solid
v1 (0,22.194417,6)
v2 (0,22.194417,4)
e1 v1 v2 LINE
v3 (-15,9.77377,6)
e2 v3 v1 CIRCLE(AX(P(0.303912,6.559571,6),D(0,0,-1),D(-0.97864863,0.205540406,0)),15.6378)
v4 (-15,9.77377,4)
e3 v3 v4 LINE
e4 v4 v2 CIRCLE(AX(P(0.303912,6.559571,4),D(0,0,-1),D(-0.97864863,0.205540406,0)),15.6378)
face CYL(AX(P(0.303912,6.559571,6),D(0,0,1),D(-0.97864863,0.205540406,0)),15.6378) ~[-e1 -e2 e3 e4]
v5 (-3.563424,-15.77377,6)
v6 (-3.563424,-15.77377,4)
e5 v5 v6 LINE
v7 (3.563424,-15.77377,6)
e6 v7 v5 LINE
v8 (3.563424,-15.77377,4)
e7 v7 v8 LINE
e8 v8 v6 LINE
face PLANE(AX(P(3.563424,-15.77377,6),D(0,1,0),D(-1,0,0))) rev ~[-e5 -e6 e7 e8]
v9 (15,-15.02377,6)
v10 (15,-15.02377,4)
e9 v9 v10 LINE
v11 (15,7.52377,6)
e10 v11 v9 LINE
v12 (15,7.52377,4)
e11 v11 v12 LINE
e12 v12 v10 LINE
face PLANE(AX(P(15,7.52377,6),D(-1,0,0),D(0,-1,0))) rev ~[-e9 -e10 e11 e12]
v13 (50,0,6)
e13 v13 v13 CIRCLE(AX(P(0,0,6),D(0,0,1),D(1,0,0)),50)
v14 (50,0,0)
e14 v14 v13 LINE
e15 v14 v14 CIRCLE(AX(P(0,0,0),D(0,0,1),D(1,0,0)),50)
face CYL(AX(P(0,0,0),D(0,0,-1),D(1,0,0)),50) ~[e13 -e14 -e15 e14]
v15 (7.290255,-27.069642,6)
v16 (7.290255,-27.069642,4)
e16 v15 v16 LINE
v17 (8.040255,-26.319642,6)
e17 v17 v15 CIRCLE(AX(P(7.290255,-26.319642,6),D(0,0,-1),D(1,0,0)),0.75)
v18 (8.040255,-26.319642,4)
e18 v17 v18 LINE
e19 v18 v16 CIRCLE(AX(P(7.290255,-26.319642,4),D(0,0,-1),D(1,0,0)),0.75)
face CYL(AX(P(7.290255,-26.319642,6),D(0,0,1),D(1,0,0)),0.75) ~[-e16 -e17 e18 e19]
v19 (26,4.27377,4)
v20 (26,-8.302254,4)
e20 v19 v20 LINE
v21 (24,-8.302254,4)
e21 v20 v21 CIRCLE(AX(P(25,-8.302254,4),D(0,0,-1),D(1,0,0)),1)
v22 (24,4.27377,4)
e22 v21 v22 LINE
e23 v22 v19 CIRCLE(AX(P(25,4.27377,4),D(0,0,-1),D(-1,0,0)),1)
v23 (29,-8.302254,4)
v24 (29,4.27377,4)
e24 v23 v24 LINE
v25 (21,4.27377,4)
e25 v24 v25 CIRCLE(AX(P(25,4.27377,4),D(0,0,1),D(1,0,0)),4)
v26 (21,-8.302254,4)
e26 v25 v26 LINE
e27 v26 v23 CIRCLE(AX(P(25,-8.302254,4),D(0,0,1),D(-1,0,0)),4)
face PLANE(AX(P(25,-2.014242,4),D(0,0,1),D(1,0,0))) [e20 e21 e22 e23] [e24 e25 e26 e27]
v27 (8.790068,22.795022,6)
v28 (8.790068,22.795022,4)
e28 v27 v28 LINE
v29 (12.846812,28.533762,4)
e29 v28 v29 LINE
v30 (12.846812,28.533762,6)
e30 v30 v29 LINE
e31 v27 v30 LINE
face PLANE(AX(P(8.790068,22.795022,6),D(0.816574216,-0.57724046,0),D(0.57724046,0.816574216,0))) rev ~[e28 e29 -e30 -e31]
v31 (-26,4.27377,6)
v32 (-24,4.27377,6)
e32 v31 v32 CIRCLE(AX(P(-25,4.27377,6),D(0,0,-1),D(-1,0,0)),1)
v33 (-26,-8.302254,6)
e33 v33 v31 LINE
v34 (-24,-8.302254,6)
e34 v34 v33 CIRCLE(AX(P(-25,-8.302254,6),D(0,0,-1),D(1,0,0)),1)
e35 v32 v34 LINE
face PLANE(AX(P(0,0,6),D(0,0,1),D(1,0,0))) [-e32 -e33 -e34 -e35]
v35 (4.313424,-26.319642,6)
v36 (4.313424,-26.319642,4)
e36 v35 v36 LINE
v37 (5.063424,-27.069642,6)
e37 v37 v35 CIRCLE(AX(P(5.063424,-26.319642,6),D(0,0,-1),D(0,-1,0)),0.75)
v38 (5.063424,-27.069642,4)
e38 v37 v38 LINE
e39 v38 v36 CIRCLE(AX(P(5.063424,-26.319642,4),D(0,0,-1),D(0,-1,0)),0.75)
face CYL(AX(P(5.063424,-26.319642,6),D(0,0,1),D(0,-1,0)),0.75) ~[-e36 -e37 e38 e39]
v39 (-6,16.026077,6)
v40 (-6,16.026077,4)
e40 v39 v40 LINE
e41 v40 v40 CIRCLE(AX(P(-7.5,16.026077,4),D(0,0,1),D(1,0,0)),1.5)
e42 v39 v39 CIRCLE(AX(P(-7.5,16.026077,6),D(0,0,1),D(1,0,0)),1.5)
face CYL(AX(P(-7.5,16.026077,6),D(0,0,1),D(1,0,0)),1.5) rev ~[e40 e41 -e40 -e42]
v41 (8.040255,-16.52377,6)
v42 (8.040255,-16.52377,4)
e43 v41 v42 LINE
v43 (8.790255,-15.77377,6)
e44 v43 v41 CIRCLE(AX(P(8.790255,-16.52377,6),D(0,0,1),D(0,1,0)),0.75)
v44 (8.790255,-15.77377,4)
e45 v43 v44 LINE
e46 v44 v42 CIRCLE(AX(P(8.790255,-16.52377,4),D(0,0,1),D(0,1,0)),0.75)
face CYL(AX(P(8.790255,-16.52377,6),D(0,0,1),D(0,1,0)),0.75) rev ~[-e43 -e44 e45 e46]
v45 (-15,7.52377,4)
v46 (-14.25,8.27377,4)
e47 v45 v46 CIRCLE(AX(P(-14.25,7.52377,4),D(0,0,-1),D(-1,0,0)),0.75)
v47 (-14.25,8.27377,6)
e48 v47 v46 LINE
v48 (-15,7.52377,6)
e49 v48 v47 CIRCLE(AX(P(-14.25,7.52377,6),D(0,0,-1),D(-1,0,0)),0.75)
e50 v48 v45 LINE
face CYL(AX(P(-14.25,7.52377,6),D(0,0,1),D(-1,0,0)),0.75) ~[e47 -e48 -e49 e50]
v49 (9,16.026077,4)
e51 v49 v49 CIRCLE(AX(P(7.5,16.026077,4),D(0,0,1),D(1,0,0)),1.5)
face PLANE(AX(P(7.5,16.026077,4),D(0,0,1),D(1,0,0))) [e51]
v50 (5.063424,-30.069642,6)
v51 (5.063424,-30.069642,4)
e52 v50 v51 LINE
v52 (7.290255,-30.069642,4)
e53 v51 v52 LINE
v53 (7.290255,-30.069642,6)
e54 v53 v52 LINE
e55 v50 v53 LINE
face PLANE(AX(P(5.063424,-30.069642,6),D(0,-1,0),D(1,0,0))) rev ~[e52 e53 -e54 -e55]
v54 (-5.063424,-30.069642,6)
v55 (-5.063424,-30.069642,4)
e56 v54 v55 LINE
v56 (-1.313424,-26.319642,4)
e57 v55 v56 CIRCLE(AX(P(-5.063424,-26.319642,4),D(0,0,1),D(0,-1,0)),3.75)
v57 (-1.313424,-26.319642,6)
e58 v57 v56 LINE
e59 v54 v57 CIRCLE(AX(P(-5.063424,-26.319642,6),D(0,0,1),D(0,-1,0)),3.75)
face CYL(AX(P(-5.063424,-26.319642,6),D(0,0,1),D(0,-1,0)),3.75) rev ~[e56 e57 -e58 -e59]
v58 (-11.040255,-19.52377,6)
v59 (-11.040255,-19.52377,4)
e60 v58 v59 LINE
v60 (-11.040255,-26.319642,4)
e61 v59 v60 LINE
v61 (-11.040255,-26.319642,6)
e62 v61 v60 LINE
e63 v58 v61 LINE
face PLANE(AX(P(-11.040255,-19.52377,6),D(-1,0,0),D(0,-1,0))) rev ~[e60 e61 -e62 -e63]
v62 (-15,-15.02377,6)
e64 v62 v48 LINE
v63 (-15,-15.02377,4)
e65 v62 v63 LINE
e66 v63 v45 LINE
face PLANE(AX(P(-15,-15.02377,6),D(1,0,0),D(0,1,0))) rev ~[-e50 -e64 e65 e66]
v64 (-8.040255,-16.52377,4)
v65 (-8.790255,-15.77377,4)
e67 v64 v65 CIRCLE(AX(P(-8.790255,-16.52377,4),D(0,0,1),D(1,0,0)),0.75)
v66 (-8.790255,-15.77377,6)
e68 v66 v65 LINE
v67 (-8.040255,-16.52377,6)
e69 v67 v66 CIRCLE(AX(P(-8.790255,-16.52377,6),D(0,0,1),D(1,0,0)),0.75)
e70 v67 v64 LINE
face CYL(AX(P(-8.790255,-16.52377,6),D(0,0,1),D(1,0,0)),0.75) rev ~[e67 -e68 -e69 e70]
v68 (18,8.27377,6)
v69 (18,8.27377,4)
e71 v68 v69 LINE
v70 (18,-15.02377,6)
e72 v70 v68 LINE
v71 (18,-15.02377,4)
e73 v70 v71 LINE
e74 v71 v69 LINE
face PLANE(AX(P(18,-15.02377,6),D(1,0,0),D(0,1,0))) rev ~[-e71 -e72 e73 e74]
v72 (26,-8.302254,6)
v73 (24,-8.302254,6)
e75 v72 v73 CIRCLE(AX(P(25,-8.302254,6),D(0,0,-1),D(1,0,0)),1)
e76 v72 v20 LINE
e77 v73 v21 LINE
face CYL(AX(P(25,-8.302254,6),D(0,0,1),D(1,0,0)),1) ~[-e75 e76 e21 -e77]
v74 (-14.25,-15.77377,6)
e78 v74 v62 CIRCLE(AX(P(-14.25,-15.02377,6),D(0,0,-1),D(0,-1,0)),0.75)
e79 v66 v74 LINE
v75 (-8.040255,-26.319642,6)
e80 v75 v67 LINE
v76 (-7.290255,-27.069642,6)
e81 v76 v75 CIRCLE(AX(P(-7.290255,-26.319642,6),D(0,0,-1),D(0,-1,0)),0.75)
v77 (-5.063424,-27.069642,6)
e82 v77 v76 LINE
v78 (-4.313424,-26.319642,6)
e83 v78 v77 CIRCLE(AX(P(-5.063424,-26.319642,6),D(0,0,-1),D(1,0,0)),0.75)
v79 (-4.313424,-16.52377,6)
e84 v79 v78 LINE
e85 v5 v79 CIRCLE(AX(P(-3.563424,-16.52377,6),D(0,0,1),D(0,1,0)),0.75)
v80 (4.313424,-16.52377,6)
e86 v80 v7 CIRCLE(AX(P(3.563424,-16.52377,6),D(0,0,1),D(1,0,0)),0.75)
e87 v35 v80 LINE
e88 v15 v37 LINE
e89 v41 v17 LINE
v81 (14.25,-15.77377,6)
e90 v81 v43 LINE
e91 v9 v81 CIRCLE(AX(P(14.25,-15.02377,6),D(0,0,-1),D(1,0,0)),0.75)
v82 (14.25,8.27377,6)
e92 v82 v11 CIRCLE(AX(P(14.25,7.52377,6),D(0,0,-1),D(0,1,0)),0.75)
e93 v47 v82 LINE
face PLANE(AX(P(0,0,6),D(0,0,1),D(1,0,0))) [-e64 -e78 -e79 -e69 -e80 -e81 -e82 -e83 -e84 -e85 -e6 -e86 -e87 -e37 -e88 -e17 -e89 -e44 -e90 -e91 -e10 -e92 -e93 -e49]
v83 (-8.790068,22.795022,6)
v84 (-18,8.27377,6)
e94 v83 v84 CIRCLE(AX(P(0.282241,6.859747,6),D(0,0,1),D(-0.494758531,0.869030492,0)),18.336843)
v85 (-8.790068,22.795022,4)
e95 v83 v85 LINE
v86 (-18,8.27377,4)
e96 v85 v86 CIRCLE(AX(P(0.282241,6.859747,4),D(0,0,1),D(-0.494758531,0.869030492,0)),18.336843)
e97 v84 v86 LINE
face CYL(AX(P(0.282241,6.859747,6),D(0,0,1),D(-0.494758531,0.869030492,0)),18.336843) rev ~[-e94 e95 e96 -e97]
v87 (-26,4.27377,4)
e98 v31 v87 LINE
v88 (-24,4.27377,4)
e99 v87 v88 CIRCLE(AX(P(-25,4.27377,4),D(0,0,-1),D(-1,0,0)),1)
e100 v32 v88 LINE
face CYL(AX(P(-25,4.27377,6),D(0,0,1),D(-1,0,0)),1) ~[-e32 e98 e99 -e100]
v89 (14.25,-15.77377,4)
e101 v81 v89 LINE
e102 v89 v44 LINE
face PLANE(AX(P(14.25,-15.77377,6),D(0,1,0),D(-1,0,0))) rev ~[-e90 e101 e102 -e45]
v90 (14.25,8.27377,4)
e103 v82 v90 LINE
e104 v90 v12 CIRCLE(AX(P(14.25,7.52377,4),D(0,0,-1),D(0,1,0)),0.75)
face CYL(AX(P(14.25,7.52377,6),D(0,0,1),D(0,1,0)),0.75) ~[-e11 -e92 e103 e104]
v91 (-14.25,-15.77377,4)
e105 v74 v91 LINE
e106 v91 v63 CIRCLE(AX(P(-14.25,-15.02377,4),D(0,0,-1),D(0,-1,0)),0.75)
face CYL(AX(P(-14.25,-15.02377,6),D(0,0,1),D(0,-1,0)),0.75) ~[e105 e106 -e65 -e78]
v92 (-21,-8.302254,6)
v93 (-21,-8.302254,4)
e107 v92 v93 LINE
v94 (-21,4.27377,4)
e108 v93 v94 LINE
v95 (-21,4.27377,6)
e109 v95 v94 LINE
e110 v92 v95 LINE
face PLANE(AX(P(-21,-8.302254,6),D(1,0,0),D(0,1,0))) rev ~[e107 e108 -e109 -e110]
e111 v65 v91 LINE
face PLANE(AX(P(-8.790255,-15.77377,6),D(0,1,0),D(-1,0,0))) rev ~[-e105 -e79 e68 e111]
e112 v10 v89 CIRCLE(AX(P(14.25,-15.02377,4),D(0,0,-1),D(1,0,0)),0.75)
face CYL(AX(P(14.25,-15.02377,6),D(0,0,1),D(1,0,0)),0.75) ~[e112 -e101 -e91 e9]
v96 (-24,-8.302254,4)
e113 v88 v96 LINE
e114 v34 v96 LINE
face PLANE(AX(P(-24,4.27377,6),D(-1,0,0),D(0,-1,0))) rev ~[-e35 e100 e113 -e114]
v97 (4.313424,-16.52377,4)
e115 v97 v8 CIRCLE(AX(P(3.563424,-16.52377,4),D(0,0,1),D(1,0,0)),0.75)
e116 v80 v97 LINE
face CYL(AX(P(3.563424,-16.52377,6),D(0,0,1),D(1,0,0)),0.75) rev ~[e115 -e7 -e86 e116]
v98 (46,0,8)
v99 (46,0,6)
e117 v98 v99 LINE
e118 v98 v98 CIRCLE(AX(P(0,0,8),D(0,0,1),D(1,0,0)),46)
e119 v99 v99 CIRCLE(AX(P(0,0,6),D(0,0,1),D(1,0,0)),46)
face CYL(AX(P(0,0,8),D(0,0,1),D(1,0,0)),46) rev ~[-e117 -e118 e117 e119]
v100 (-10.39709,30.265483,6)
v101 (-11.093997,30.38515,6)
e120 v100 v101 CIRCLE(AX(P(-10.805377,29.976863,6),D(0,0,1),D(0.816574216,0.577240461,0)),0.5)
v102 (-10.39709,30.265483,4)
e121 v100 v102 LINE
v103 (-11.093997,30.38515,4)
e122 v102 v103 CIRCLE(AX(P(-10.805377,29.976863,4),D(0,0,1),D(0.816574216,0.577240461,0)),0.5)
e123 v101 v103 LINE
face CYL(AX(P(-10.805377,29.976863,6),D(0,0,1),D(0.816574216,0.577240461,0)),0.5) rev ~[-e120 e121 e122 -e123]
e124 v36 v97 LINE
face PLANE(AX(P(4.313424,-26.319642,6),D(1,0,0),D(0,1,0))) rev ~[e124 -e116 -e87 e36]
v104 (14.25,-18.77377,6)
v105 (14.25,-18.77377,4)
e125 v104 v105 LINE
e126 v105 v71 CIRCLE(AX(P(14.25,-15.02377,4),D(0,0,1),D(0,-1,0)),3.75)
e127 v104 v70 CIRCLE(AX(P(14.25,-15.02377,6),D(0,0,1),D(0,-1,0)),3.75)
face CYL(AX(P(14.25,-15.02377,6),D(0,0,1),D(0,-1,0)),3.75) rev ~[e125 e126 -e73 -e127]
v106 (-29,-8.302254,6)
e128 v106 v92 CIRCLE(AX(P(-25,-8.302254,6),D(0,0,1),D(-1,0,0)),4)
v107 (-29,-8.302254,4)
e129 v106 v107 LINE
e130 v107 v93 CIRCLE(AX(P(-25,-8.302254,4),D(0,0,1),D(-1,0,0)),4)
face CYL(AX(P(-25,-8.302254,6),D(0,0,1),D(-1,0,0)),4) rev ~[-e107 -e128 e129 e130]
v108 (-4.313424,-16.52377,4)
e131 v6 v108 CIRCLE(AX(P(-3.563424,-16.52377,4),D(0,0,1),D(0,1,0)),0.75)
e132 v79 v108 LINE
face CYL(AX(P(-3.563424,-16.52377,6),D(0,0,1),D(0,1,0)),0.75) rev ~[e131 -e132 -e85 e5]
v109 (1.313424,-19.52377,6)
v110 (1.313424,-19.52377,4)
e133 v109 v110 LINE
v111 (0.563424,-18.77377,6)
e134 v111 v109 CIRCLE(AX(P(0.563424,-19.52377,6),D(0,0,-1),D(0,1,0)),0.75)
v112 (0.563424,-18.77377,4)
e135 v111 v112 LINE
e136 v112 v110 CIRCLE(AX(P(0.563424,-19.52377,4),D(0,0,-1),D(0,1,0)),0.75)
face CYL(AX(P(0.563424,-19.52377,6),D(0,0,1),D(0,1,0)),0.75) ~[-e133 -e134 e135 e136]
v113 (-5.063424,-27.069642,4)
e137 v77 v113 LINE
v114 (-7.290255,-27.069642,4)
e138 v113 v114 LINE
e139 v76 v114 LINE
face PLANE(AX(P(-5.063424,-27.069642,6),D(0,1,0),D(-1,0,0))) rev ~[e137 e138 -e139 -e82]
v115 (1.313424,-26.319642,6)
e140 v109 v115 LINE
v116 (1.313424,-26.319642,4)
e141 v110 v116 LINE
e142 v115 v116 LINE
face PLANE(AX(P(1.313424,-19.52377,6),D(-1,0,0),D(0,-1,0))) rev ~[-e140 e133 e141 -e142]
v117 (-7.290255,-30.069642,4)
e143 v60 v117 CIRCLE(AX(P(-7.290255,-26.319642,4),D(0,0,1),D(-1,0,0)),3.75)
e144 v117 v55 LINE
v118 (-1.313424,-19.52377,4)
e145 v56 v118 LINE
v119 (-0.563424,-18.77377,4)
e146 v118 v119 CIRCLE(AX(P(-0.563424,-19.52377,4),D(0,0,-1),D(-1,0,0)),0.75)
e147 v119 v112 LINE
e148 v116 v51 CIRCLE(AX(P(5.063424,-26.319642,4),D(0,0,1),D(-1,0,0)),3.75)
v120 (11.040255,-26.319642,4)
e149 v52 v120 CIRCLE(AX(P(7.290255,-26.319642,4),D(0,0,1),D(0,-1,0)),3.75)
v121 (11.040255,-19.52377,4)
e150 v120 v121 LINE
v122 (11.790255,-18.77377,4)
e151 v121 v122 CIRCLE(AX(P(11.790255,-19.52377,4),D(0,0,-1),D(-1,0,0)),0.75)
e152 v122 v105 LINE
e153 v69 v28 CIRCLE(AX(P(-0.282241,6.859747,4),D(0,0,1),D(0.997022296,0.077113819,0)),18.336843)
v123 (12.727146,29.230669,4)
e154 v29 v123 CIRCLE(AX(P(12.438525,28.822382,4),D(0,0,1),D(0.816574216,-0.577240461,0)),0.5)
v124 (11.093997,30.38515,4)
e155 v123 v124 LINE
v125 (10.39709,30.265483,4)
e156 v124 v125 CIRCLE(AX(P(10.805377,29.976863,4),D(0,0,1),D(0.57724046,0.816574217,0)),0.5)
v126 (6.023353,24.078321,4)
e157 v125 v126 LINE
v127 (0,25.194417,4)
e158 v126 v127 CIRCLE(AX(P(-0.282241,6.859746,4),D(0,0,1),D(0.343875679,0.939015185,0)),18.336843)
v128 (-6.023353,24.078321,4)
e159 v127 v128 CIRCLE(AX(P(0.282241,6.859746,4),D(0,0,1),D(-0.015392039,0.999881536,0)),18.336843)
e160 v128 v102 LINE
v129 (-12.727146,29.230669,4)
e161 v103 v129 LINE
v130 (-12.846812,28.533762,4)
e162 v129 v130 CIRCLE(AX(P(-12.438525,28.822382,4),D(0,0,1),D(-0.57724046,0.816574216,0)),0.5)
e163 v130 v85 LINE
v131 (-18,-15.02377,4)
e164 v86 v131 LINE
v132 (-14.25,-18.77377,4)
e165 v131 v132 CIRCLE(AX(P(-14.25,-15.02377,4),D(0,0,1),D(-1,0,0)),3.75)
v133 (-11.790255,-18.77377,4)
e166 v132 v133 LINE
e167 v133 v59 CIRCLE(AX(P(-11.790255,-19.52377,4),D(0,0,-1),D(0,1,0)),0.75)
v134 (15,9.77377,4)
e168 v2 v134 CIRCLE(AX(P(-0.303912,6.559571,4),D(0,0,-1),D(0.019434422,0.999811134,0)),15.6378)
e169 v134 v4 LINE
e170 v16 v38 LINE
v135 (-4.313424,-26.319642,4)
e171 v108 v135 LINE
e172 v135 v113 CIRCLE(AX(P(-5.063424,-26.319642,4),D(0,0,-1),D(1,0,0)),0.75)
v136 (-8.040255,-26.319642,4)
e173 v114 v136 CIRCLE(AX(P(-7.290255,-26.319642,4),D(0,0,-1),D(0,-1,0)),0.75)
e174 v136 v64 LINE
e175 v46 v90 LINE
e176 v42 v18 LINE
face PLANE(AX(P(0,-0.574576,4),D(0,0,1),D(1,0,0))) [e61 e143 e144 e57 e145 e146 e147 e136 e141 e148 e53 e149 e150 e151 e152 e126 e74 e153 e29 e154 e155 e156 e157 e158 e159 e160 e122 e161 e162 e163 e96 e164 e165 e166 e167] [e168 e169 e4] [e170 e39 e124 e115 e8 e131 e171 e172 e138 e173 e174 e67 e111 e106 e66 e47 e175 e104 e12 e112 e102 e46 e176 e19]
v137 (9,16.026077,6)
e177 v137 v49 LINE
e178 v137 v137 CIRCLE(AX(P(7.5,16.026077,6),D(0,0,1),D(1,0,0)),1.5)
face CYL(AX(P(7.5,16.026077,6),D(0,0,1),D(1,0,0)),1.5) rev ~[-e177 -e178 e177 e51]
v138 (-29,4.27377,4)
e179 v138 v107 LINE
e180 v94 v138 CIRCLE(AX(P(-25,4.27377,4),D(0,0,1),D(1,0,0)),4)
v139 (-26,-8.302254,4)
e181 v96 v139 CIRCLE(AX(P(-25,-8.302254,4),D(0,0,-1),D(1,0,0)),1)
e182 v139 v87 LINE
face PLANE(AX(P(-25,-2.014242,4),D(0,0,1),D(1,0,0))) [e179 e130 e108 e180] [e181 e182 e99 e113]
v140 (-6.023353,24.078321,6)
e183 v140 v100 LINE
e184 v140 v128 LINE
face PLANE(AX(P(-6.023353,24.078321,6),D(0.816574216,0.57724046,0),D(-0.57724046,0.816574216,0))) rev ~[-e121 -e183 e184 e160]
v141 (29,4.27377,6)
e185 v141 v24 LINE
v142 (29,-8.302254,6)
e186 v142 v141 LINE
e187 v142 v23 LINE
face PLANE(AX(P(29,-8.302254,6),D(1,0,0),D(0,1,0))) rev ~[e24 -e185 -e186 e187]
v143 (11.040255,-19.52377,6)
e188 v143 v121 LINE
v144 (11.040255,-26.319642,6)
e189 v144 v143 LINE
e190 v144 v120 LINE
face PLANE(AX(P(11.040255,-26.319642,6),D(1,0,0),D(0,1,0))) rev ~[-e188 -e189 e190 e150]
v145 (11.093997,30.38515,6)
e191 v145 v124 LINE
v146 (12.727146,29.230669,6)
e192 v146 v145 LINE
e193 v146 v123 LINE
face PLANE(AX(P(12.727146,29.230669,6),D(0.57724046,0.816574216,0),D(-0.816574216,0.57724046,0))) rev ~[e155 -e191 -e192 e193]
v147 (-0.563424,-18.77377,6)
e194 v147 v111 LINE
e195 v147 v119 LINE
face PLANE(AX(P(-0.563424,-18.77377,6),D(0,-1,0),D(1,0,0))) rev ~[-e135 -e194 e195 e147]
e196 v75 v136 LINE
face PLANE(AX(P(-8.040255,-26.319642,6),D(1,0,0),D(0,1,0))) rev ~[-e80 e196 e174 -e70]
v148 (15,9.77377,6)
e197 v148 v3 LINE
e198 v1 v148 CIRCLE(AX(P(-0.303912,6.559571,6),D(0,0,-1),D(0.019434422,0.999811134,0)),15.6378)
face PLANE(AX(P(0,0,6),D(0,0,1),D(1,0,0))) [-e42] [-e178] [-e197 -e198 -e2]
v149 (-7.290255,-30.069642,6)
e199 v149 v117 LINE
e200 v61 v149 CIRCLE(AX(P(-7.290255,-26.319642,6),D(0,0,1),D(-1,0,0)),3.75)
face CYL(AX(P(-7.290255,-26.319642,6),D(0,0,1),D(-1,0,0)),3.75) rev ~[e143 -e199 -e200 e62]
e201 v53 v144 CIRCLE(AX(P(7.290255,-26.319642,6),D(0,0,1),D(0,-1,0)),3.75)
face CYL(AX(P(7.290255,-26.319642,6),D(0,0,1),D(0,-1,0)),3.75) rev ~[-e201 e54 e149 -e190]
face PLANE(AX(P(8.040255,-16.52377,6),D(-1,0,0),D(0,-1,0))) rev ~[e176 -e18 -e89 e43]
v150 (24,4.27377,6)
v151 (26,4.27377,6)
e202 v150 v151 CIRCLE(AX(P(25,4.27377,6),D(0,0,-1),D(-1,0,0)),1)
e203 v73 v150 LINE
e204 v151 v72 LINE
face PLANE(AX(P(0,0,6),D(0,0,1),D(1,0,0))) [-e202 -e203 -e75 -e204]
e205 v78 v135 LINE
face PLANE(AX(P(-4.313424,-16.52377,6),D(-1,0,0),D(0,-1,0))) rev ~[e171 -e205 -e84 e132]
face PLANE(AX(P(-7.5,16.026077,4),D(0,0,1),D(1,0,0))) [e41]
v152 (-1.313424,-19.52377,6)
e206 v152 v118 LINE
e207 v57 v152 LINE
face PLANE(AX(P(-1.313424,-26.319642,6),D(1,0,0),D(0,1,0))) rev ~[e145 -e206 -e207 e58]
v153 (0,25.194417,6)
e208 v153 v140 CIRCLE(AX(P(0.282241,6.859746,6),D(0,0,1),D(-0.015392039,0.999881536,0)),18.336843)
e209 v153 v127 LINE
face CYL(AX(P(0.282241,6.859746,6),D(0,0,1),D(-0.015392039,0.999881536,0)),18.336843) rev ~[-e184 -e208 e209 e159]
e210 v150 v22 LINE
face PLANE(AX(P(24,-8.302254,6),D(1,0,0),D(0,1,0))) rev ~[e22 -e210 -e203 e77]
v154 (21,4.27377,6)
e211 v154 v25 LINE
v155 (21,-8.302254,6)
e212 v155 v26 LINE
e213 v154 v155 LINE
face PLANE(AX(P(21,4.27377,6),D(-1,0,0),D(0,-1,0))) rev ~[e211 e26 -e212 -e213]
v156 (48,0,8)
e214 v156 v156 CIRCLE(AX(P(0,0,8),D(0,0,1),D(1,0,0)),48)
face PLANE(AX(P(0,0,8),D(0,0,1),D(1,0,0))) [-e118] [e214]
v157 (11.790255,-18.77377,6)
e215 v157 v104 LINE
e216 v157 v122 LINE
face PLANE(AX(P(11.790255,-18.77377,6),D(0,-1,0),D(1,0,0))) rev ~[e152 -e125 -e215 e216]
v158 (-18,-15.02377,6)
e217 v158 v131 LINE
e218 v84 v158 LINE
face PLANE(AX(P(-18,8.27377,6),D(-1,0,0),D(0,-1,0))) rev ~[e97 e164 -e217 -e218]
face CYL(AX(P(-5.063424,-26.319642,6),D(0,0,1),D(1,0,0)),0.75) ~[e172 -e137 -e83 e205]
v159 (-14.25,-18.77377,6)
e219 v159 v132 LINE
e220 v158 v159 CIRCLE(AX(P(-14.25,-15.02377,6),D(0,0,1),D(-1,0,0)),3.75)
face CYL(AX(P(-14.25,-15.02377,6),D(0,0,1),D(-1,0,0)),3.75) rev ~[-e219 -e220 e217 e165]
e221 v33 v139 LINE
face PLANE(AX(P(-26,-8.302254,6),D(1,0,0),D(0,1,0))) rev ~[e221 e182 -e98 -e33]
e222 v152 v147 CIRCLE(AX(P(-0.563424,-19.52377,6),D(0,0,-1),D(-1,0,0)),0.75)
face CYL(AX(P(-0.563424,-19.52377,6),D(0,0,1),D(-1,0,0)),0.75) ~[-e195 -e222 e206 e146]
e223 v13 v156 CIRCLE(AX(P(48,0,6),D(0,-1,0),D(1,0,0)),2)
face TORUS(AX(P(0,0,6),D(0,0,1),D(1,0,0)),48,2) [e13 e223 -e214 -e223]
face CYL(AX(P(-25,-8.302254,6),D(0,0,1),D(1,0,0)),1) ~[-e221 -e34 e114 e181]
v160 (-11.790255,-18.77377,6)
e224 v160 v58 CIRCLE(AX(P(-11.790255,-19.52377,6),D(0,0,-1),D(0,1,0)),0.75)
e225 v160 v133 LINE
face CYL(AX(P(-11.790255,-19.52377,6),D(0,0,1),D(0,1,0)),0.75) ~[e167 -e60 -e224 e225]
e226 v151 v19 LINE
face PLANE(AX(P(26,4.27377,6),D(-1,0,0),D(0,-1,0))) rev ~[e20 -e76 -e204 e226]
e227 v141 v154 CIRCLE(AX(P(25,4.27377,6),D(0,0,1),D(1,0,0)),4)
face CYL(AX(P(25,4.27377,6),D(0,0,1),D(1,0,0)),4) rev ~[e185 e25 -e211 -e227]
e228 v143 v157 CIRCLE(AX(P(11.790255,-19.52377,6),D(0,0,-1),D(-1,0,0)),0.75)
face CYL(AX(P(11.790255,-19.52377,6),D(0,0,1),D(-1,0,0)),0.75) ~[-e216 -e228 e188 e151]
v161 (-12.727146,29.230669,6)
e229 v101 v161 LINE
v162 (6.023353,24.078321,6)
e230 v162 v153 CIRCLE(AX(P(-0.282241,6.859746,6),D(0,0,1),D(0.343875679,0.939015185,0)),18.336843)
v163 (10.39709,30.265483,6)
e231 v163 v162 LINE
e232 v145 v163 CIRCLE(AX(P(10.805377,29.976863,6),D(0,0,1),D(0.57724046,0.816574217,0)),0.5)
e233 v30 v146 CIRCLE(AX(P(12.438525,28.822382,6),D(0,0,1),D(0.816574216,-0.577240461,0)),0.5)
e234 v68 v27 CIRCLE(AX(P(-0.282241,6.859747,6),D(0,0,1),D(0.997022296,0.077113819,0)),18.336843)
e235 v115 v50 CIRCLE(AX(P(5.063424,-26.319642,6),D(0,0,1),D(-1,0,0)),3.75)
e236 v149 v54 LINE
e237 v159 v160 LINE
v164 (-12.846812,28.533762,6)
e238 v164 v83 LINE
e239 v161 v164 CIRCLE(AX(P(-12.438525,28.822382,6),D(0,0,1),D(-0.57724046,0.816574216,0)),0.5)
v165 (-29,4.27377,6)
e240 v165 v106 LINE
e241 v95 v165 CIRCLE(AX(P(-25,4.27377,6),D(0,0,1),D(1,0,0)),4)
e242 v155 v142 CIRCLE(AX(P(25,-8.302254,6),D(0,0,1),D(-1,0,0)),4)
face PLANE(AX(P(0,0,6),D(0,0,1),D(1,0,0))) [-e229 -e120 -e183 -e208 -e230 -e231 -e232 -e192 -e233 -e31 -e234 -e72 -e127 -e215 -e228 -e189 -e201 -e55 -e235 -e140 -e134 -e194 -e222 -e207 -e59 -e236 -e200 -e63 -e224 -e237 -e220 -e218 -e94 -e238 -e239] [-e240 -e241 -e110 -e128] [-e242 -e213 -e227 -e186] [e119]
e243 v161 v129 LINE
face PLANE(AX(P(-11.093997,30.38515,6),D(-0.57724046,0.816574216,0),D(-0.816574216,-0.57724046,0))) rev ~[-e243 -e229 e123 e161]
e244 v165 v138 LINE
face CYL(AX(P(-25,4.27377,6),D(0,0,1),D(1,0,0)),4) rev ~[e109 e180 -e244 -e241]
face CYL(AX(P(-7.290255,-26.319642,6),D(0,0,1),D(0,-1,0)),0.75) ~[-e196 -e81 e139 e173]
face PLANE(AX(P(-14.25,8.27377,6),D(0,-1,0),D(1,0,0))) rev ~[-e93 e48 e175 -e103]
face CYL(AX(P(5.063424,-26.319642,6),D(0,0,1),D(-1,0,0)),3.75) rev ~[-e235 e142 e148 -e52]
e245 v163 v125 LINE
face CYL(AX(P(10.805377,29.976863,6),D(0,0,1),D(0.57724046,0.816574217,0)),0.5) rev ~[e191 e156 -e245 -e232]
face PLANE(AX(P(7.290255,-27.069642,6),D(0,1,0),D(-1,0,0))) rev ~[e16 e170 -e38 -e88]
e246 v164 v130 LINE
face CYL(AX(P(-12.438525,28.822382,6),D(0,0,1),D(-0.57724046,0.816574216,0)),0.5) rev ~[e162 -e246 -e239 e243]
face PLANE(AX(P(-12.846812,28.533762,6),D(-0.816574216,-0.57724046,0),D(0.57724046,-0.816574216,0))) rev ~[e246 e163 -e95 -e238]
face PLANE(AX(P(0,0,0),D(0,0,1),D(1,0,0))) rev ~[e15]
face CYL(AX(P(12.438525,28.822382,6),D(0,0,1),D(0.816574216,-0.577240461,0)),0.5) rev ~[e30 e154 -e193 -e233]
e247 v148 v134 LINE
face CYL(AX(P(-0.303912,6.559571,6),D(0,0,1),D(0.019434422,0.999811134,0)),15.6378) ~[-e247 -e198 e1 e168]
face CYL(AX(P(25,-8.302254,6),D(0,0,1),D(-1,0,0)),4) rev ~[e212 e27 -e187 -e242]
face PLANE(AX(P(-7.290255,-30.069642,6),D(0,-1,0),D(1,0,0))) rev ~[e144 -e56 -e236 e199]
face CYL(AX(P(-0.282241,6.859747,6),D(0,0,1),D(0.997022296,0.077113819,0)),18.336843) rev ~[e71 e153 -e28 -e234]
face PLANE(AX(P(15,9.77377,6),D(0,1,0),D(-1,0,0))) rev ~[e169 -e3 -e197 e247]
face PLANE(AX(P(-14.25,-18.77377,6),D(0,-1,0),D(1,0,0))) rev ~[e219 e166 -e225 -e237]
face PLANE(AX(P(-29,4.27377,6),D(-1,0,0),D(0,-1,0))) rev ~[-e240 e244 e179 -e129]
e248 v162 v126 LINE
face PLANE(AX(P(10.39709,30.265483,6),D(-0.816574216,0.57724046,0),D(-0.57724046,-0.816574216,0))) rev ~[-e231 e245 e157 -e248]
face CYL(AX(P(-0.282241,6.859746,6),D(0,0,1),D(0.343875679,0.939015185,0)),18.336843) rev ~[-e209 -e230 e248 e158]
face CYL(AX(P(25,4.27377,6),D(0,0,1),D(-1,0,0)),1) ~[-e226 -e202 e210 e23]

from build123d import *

# Parameters (mm, degrees)
F0_R      = 50
F2_DEPTH  = 8
F4_R      = 2
F6_R      = 46
F7_DEPTH  = 2
F9_DEPTH  = 2
F8_R      = 1.5
F10_DEPTH = 2


with BuildPart() as f2:
    # F0 (on Top) → F2 (new body)
    with BuildSketch(Plane.XY):
        Circle(F0_R)
    extrude(amount=F2_DEPTH)

    # F4
    f4_edges = [f2.edges().sort_by_distance(p)[0] for p in [
        (-50, 0, 8),
    ]]
    fillet(f4_edges, radius=F4_R)

    # F6 (on face) → F7 (cut)
    with BuildSketch(Plane.XY.offset(8)):
        Circle(F6_R)
    extrude(amount=-F7_DEPTH, mode=Mode.SUBTRACT)

    # F8 (on face) → F9 (cut)
    with BuildSketch(Plane.XY.offset(6)):
        with BuildLine():
            ThreePointArc((-1.3134240992, -19.5237704918), (-1.0937541851, -18.9934404059), (-0.5634240992, -18.7737704918))
            Line((-0.5634240992, -18.7737704918), (0, -18.7737704918))
            Line((0, -18.7737704918), (0.5634240992, -18.7737704918))
            ThreePointArc((0.5634240992, -18.7737704918), (1.0937541851, -18.9934404059), (1.3134240992, -19.5237704918))
            Line((1.3134240992, -19.5237704918), (1.3134240992, -26.3196417335))
            ThreePointArc((1.3134240992, -26.3196417335), (2.4117736698, -28.9712921629), (5.0634240992, -30.0696417335))
            Line((5.0634240992, -30.0696417335), (7.2902552709, -30.0696417335))
            ThreePointArc((7.2902552709, -30.0696417335), (9.9419057003, -28.9712921629), (11.0402552709, -26.3196417335))
            Line((11.0402552709, -26.3196417335), (11.0402552709, -19.5237704918))
            ThreePointArc((11.0402552709, -19.5237704918), (11.259925185, -18.9934404059), (11.7902552709, -18.7737704918))
            Line((11.7902552709, -18.7737704918), (14.25, -18.7737704918))
            ThreePointArc((14.25, -18.7737704918), (16.9016504294, -17.6754209213), (18, -15.0237704918))
            Line((18, -15.0237704918), (18, 8.2737704918))
            ThreePointArc((18, 8.2737704918), (15.2027368941, 16.6809104679), (8.7900681537, 22.7950222666))
            Line((8.7900681537, 22.7950222666), (12.8468124166, 28.5337620023))
            ThreePointArc((12.8468124166, 28.5337620023), (12.9313132133, 28.9069994934), (12.7271455387, 29.2306693407))
            Line((12.7271455387, 29.2306693407), (11.0939971059, 30.3851502616))
            ThreePointArc((11.0939971059, 30.3851502616), (10.7207596148, 30.4696510582), (10.3970897675, 30.2654833836))
            Line((10.3970897675, 30.2654833836), (6.0233529733, 24.078320598))
            ThreePointArc((6.0233529733, 24.078320598), (3.0586137327, 24.8896799806), (0, 25.1944173204))
            ThreePointArc((0, 25.1944173204), (-3.0586137327, 24.8896799806), (-6.0233529733, 24.078320598))
            Line((-6.0233529733, 24.078320598), (-10.3970897675, 30.2654833836))
            ThreePointArc((-10.3970897675, 30.2654833836), (-10.7207596148, 30.4696510582), (-11.0939971059, 30.3851502616))
            Line((-11.0939971059, 30.3851502616), (-12.7271455387, 29.2306693407))
            ThreePointArc((-12.7271455387, 29.2306693407), (-12.9313132133, 28.9069994934), (-12.8468124166, 28.5337620023))
            Line((-12.8468124166, 28.5337620023), (-8.7900681537, 22.7950222666))
            ThreePointArc((-8.7900681537, 22.7950222666), (-15.2027368941, 16.6809104679), (-18, 8.2737704918))
            Line((-18, 8.2737704918), (-18, -15.0237704918))
            ThreePointArc((-18, -15.0237704918), (-16.9016504294, -17.6754209213), (-14.25, -18.7737704918))
            Line((-14.25, -18.7737704918), (-11.7902552709, -18.7737704918))
            ThreePointArc((-11.7902552709, -18.7737704918), (-11.259925185, -18.9934404059), (-11.0402552709, -19.5237704918))
            Line((-11.0402552709, -19.5237704918), (-11.0402552709, -26.3196417335))
            ThreePointArc((-11.0402552709, -26.3196417335), (-9.9419057003, -28.9712921629), (-7.2902552709, -30.0696417335))
            Line((-7.2902552709, -30.0696417335), (-5.0634240992, -30.0696417335))
            ThreePointArc((-5.0634240992, -30.0696417335), (-2.4117736698, -28.9712921629), (-1.3134240992, -26.3196417335))
            Line((-1.3134240992, -26.3196417335), (-1.3134240992, -19.5237704918))
        make_face()
        with BuildLine():
            Line((-14.25, 8.2737704918), (0, 8.2737704918))
            Line((0, 8.2737704918), (14.25, 8.2737704918))
            ThreePointArc((14.25, 8.2737704918), (14.7803300859, 8.0541005777), (15, 7.5237704918))
            Line((15, 7.5237704918), (15, -15.0237704918))
            ThreePointArc((15, -15.0237704918), (14.7803300859, -15.5541005777), (14.25, -15.7737704918))
            Line((14.25, -15.7737704918), (8.7902552709, -15.7737704918))
            ThreePointArc((8.7902552709, -15.7737704918), (8.259925185, -15.9934404059), (8.0402552709, -16.5237704918))
            Line((8.0402552709, -16.5237704918), (8.0402552709, -26.3196417335))
            ThreePointArc((8.0402552709, -26.3196417335), (7.8205853568, -26.8499718194), (7.2902552709, -27.0696417335))
            Line((7.2902552709, -27.0696417335), (5.0634240992, -27.0696417335))
            ThreePointArc((5.0634240992, -27.0696417335), (4.5330940133, -26.8499718194), (4.3134240992, -26.3196417335))
            Line((4.3134240992, -26.3196417335), (4.3134240992, -16.5237704918))
            ThreePointArc((4.3134240992, -16.5237704918), (4.0937541851, -15.9934404059), (3.5634240992, -15.7737704918))
            Line((3.5634240992, -15.7737704918), (0, -15.7737704918))
            Line((0, -15.7737704918), (-3.5634240992, -15.7737704918))
            ThreePointArc((-3.5634240992, -15.7737704918), (-4.0937541851, -15.9934404059), (-4.3134240992, -16.5237704918))
            Line((-4.3134240992, -16.5237704918), (-4.3134240992, -26.3196417335))
            ThreePointArc((-4.3134240992, -26.3196417335), (-4.5330940133, -26.8499718194), (-5.0634240992, -27.0696417335))
            Line((-5.0634240992, -27.0696417335), (-7.2902552709, -27.0696417335))
            ThreePointArc((-7.2902552709, -27.0696417335), (-7.8205853568, -26.8499718194), (-8.0402552709, -26.3196417335))
            Line((-8.0402552709, -26.3196417335), (-8.0402552709, -16.5237704918))
            ThreePointArc((-8.0402552709, -16.5237704918), (-8.259925185, -15.9934404059), (-8.7902552709, -15.7737704918))
            Line((-8.7902552709, -15.7737704918), (-14.25, -15.7737704918))
            ThreePointArc((-14.25, -15.7737704918), (-14.7803300859, -15.5541005777), (-15, -15.0237704918))
            Line((-15, -15.0237704918), (-15, 7.5237704918))
            ThreePointArc((-15, 7.5237704918), (-14.7803300859, 8.0541005777), (-14.25, 8.2737704918))
        make_face(mode=Mode.SUBTRACT)
        with BuildLine():
            Line((15, 9.7737704918), (0, 9.7737704918))
            Line((0, 9.7737704918), (-15, 9.7737704918))
            ThreePointArc((-15, 9.7737704918), (-9.6695107404, 18.6041395087), (0, 22.1944173204))
            ThreePointArc((0, 22.1944173204), (9.6695107404, 18.6041395087), (15, 9.7737704918))
        make_face(mode=Mode.SUBTRACT)
        with BuildLine():
            Line((-21, -8.3022542986), (-21, 4.2737704918))
            ThreePointArc((-21, 4.2737704918), (-25, 8.2737704918), (-29, 4.2737704918))
            Line((-29, 4.2737704918), (-29, -8.3022542986))
            ThreePointArc((-29, -8.3022542986), (-25, -12.3022542986), (-21, -8.3022542986))
        make_face()
        with BuildLine():
            Line((-26, -8.3022542986), (-26, 4.2737704918))
            ThreePointArc((-26, 4.2737704918), (-25, 5.2737704918), (-24, 4.2737704918))
            Line((-24, 4.2737704918), (-24, -8.3022542986))
            ThreePointArc((-24, -8.3022542986), (-25, -9.3022542986), (-26, -8.3022542986))
        make_face(mode=Mode.SUBTRACT)
        with BuildLine():
            ThreePointArc((21, -8.3022542986), (25, -12.3022542986), (29, -8.3022542986))
            Line((29, -8.3022542986), (29, 4.2737704918))
            ThreePointArc((29, 4.2737704918), (25, 8.2737704918), (21, 4.2737704918))
            Line((21, 4.2737704918), (21, -8.3022542986))
        make_face()
        with BuildLine():
            Line((26, 4.2737704918), (26, -8.3022542986))
            ThreePointArc((26, -8.3022542986), (25, -9.3022542986), (24, -8.3022542986))
            Line((24, -8.3022542986), (24, 4.2737704918))
            ThreePointArc((24, 4.2737704918), (25, 5.2737704918), (26, 4.2737704918))
        make_face(mode=Mode.SUBTRACT)
    extrude(amount=-F9_DEPTH, mode=Mode.SUBTRACT)

    # F8 (on face) → F10 (cut)
    with BuildSketch(Plane.XY.offset(6)):
        with Locations((-7.5, 16.0260769339)):
            Circle(F8_R)
        with Locations((7.5, 16.0260769339)):
            Circle(F8_R)
    extrude(amount=-F10_DEPTH, mode=Mode.SUBTRACT)


solid = f2.part
